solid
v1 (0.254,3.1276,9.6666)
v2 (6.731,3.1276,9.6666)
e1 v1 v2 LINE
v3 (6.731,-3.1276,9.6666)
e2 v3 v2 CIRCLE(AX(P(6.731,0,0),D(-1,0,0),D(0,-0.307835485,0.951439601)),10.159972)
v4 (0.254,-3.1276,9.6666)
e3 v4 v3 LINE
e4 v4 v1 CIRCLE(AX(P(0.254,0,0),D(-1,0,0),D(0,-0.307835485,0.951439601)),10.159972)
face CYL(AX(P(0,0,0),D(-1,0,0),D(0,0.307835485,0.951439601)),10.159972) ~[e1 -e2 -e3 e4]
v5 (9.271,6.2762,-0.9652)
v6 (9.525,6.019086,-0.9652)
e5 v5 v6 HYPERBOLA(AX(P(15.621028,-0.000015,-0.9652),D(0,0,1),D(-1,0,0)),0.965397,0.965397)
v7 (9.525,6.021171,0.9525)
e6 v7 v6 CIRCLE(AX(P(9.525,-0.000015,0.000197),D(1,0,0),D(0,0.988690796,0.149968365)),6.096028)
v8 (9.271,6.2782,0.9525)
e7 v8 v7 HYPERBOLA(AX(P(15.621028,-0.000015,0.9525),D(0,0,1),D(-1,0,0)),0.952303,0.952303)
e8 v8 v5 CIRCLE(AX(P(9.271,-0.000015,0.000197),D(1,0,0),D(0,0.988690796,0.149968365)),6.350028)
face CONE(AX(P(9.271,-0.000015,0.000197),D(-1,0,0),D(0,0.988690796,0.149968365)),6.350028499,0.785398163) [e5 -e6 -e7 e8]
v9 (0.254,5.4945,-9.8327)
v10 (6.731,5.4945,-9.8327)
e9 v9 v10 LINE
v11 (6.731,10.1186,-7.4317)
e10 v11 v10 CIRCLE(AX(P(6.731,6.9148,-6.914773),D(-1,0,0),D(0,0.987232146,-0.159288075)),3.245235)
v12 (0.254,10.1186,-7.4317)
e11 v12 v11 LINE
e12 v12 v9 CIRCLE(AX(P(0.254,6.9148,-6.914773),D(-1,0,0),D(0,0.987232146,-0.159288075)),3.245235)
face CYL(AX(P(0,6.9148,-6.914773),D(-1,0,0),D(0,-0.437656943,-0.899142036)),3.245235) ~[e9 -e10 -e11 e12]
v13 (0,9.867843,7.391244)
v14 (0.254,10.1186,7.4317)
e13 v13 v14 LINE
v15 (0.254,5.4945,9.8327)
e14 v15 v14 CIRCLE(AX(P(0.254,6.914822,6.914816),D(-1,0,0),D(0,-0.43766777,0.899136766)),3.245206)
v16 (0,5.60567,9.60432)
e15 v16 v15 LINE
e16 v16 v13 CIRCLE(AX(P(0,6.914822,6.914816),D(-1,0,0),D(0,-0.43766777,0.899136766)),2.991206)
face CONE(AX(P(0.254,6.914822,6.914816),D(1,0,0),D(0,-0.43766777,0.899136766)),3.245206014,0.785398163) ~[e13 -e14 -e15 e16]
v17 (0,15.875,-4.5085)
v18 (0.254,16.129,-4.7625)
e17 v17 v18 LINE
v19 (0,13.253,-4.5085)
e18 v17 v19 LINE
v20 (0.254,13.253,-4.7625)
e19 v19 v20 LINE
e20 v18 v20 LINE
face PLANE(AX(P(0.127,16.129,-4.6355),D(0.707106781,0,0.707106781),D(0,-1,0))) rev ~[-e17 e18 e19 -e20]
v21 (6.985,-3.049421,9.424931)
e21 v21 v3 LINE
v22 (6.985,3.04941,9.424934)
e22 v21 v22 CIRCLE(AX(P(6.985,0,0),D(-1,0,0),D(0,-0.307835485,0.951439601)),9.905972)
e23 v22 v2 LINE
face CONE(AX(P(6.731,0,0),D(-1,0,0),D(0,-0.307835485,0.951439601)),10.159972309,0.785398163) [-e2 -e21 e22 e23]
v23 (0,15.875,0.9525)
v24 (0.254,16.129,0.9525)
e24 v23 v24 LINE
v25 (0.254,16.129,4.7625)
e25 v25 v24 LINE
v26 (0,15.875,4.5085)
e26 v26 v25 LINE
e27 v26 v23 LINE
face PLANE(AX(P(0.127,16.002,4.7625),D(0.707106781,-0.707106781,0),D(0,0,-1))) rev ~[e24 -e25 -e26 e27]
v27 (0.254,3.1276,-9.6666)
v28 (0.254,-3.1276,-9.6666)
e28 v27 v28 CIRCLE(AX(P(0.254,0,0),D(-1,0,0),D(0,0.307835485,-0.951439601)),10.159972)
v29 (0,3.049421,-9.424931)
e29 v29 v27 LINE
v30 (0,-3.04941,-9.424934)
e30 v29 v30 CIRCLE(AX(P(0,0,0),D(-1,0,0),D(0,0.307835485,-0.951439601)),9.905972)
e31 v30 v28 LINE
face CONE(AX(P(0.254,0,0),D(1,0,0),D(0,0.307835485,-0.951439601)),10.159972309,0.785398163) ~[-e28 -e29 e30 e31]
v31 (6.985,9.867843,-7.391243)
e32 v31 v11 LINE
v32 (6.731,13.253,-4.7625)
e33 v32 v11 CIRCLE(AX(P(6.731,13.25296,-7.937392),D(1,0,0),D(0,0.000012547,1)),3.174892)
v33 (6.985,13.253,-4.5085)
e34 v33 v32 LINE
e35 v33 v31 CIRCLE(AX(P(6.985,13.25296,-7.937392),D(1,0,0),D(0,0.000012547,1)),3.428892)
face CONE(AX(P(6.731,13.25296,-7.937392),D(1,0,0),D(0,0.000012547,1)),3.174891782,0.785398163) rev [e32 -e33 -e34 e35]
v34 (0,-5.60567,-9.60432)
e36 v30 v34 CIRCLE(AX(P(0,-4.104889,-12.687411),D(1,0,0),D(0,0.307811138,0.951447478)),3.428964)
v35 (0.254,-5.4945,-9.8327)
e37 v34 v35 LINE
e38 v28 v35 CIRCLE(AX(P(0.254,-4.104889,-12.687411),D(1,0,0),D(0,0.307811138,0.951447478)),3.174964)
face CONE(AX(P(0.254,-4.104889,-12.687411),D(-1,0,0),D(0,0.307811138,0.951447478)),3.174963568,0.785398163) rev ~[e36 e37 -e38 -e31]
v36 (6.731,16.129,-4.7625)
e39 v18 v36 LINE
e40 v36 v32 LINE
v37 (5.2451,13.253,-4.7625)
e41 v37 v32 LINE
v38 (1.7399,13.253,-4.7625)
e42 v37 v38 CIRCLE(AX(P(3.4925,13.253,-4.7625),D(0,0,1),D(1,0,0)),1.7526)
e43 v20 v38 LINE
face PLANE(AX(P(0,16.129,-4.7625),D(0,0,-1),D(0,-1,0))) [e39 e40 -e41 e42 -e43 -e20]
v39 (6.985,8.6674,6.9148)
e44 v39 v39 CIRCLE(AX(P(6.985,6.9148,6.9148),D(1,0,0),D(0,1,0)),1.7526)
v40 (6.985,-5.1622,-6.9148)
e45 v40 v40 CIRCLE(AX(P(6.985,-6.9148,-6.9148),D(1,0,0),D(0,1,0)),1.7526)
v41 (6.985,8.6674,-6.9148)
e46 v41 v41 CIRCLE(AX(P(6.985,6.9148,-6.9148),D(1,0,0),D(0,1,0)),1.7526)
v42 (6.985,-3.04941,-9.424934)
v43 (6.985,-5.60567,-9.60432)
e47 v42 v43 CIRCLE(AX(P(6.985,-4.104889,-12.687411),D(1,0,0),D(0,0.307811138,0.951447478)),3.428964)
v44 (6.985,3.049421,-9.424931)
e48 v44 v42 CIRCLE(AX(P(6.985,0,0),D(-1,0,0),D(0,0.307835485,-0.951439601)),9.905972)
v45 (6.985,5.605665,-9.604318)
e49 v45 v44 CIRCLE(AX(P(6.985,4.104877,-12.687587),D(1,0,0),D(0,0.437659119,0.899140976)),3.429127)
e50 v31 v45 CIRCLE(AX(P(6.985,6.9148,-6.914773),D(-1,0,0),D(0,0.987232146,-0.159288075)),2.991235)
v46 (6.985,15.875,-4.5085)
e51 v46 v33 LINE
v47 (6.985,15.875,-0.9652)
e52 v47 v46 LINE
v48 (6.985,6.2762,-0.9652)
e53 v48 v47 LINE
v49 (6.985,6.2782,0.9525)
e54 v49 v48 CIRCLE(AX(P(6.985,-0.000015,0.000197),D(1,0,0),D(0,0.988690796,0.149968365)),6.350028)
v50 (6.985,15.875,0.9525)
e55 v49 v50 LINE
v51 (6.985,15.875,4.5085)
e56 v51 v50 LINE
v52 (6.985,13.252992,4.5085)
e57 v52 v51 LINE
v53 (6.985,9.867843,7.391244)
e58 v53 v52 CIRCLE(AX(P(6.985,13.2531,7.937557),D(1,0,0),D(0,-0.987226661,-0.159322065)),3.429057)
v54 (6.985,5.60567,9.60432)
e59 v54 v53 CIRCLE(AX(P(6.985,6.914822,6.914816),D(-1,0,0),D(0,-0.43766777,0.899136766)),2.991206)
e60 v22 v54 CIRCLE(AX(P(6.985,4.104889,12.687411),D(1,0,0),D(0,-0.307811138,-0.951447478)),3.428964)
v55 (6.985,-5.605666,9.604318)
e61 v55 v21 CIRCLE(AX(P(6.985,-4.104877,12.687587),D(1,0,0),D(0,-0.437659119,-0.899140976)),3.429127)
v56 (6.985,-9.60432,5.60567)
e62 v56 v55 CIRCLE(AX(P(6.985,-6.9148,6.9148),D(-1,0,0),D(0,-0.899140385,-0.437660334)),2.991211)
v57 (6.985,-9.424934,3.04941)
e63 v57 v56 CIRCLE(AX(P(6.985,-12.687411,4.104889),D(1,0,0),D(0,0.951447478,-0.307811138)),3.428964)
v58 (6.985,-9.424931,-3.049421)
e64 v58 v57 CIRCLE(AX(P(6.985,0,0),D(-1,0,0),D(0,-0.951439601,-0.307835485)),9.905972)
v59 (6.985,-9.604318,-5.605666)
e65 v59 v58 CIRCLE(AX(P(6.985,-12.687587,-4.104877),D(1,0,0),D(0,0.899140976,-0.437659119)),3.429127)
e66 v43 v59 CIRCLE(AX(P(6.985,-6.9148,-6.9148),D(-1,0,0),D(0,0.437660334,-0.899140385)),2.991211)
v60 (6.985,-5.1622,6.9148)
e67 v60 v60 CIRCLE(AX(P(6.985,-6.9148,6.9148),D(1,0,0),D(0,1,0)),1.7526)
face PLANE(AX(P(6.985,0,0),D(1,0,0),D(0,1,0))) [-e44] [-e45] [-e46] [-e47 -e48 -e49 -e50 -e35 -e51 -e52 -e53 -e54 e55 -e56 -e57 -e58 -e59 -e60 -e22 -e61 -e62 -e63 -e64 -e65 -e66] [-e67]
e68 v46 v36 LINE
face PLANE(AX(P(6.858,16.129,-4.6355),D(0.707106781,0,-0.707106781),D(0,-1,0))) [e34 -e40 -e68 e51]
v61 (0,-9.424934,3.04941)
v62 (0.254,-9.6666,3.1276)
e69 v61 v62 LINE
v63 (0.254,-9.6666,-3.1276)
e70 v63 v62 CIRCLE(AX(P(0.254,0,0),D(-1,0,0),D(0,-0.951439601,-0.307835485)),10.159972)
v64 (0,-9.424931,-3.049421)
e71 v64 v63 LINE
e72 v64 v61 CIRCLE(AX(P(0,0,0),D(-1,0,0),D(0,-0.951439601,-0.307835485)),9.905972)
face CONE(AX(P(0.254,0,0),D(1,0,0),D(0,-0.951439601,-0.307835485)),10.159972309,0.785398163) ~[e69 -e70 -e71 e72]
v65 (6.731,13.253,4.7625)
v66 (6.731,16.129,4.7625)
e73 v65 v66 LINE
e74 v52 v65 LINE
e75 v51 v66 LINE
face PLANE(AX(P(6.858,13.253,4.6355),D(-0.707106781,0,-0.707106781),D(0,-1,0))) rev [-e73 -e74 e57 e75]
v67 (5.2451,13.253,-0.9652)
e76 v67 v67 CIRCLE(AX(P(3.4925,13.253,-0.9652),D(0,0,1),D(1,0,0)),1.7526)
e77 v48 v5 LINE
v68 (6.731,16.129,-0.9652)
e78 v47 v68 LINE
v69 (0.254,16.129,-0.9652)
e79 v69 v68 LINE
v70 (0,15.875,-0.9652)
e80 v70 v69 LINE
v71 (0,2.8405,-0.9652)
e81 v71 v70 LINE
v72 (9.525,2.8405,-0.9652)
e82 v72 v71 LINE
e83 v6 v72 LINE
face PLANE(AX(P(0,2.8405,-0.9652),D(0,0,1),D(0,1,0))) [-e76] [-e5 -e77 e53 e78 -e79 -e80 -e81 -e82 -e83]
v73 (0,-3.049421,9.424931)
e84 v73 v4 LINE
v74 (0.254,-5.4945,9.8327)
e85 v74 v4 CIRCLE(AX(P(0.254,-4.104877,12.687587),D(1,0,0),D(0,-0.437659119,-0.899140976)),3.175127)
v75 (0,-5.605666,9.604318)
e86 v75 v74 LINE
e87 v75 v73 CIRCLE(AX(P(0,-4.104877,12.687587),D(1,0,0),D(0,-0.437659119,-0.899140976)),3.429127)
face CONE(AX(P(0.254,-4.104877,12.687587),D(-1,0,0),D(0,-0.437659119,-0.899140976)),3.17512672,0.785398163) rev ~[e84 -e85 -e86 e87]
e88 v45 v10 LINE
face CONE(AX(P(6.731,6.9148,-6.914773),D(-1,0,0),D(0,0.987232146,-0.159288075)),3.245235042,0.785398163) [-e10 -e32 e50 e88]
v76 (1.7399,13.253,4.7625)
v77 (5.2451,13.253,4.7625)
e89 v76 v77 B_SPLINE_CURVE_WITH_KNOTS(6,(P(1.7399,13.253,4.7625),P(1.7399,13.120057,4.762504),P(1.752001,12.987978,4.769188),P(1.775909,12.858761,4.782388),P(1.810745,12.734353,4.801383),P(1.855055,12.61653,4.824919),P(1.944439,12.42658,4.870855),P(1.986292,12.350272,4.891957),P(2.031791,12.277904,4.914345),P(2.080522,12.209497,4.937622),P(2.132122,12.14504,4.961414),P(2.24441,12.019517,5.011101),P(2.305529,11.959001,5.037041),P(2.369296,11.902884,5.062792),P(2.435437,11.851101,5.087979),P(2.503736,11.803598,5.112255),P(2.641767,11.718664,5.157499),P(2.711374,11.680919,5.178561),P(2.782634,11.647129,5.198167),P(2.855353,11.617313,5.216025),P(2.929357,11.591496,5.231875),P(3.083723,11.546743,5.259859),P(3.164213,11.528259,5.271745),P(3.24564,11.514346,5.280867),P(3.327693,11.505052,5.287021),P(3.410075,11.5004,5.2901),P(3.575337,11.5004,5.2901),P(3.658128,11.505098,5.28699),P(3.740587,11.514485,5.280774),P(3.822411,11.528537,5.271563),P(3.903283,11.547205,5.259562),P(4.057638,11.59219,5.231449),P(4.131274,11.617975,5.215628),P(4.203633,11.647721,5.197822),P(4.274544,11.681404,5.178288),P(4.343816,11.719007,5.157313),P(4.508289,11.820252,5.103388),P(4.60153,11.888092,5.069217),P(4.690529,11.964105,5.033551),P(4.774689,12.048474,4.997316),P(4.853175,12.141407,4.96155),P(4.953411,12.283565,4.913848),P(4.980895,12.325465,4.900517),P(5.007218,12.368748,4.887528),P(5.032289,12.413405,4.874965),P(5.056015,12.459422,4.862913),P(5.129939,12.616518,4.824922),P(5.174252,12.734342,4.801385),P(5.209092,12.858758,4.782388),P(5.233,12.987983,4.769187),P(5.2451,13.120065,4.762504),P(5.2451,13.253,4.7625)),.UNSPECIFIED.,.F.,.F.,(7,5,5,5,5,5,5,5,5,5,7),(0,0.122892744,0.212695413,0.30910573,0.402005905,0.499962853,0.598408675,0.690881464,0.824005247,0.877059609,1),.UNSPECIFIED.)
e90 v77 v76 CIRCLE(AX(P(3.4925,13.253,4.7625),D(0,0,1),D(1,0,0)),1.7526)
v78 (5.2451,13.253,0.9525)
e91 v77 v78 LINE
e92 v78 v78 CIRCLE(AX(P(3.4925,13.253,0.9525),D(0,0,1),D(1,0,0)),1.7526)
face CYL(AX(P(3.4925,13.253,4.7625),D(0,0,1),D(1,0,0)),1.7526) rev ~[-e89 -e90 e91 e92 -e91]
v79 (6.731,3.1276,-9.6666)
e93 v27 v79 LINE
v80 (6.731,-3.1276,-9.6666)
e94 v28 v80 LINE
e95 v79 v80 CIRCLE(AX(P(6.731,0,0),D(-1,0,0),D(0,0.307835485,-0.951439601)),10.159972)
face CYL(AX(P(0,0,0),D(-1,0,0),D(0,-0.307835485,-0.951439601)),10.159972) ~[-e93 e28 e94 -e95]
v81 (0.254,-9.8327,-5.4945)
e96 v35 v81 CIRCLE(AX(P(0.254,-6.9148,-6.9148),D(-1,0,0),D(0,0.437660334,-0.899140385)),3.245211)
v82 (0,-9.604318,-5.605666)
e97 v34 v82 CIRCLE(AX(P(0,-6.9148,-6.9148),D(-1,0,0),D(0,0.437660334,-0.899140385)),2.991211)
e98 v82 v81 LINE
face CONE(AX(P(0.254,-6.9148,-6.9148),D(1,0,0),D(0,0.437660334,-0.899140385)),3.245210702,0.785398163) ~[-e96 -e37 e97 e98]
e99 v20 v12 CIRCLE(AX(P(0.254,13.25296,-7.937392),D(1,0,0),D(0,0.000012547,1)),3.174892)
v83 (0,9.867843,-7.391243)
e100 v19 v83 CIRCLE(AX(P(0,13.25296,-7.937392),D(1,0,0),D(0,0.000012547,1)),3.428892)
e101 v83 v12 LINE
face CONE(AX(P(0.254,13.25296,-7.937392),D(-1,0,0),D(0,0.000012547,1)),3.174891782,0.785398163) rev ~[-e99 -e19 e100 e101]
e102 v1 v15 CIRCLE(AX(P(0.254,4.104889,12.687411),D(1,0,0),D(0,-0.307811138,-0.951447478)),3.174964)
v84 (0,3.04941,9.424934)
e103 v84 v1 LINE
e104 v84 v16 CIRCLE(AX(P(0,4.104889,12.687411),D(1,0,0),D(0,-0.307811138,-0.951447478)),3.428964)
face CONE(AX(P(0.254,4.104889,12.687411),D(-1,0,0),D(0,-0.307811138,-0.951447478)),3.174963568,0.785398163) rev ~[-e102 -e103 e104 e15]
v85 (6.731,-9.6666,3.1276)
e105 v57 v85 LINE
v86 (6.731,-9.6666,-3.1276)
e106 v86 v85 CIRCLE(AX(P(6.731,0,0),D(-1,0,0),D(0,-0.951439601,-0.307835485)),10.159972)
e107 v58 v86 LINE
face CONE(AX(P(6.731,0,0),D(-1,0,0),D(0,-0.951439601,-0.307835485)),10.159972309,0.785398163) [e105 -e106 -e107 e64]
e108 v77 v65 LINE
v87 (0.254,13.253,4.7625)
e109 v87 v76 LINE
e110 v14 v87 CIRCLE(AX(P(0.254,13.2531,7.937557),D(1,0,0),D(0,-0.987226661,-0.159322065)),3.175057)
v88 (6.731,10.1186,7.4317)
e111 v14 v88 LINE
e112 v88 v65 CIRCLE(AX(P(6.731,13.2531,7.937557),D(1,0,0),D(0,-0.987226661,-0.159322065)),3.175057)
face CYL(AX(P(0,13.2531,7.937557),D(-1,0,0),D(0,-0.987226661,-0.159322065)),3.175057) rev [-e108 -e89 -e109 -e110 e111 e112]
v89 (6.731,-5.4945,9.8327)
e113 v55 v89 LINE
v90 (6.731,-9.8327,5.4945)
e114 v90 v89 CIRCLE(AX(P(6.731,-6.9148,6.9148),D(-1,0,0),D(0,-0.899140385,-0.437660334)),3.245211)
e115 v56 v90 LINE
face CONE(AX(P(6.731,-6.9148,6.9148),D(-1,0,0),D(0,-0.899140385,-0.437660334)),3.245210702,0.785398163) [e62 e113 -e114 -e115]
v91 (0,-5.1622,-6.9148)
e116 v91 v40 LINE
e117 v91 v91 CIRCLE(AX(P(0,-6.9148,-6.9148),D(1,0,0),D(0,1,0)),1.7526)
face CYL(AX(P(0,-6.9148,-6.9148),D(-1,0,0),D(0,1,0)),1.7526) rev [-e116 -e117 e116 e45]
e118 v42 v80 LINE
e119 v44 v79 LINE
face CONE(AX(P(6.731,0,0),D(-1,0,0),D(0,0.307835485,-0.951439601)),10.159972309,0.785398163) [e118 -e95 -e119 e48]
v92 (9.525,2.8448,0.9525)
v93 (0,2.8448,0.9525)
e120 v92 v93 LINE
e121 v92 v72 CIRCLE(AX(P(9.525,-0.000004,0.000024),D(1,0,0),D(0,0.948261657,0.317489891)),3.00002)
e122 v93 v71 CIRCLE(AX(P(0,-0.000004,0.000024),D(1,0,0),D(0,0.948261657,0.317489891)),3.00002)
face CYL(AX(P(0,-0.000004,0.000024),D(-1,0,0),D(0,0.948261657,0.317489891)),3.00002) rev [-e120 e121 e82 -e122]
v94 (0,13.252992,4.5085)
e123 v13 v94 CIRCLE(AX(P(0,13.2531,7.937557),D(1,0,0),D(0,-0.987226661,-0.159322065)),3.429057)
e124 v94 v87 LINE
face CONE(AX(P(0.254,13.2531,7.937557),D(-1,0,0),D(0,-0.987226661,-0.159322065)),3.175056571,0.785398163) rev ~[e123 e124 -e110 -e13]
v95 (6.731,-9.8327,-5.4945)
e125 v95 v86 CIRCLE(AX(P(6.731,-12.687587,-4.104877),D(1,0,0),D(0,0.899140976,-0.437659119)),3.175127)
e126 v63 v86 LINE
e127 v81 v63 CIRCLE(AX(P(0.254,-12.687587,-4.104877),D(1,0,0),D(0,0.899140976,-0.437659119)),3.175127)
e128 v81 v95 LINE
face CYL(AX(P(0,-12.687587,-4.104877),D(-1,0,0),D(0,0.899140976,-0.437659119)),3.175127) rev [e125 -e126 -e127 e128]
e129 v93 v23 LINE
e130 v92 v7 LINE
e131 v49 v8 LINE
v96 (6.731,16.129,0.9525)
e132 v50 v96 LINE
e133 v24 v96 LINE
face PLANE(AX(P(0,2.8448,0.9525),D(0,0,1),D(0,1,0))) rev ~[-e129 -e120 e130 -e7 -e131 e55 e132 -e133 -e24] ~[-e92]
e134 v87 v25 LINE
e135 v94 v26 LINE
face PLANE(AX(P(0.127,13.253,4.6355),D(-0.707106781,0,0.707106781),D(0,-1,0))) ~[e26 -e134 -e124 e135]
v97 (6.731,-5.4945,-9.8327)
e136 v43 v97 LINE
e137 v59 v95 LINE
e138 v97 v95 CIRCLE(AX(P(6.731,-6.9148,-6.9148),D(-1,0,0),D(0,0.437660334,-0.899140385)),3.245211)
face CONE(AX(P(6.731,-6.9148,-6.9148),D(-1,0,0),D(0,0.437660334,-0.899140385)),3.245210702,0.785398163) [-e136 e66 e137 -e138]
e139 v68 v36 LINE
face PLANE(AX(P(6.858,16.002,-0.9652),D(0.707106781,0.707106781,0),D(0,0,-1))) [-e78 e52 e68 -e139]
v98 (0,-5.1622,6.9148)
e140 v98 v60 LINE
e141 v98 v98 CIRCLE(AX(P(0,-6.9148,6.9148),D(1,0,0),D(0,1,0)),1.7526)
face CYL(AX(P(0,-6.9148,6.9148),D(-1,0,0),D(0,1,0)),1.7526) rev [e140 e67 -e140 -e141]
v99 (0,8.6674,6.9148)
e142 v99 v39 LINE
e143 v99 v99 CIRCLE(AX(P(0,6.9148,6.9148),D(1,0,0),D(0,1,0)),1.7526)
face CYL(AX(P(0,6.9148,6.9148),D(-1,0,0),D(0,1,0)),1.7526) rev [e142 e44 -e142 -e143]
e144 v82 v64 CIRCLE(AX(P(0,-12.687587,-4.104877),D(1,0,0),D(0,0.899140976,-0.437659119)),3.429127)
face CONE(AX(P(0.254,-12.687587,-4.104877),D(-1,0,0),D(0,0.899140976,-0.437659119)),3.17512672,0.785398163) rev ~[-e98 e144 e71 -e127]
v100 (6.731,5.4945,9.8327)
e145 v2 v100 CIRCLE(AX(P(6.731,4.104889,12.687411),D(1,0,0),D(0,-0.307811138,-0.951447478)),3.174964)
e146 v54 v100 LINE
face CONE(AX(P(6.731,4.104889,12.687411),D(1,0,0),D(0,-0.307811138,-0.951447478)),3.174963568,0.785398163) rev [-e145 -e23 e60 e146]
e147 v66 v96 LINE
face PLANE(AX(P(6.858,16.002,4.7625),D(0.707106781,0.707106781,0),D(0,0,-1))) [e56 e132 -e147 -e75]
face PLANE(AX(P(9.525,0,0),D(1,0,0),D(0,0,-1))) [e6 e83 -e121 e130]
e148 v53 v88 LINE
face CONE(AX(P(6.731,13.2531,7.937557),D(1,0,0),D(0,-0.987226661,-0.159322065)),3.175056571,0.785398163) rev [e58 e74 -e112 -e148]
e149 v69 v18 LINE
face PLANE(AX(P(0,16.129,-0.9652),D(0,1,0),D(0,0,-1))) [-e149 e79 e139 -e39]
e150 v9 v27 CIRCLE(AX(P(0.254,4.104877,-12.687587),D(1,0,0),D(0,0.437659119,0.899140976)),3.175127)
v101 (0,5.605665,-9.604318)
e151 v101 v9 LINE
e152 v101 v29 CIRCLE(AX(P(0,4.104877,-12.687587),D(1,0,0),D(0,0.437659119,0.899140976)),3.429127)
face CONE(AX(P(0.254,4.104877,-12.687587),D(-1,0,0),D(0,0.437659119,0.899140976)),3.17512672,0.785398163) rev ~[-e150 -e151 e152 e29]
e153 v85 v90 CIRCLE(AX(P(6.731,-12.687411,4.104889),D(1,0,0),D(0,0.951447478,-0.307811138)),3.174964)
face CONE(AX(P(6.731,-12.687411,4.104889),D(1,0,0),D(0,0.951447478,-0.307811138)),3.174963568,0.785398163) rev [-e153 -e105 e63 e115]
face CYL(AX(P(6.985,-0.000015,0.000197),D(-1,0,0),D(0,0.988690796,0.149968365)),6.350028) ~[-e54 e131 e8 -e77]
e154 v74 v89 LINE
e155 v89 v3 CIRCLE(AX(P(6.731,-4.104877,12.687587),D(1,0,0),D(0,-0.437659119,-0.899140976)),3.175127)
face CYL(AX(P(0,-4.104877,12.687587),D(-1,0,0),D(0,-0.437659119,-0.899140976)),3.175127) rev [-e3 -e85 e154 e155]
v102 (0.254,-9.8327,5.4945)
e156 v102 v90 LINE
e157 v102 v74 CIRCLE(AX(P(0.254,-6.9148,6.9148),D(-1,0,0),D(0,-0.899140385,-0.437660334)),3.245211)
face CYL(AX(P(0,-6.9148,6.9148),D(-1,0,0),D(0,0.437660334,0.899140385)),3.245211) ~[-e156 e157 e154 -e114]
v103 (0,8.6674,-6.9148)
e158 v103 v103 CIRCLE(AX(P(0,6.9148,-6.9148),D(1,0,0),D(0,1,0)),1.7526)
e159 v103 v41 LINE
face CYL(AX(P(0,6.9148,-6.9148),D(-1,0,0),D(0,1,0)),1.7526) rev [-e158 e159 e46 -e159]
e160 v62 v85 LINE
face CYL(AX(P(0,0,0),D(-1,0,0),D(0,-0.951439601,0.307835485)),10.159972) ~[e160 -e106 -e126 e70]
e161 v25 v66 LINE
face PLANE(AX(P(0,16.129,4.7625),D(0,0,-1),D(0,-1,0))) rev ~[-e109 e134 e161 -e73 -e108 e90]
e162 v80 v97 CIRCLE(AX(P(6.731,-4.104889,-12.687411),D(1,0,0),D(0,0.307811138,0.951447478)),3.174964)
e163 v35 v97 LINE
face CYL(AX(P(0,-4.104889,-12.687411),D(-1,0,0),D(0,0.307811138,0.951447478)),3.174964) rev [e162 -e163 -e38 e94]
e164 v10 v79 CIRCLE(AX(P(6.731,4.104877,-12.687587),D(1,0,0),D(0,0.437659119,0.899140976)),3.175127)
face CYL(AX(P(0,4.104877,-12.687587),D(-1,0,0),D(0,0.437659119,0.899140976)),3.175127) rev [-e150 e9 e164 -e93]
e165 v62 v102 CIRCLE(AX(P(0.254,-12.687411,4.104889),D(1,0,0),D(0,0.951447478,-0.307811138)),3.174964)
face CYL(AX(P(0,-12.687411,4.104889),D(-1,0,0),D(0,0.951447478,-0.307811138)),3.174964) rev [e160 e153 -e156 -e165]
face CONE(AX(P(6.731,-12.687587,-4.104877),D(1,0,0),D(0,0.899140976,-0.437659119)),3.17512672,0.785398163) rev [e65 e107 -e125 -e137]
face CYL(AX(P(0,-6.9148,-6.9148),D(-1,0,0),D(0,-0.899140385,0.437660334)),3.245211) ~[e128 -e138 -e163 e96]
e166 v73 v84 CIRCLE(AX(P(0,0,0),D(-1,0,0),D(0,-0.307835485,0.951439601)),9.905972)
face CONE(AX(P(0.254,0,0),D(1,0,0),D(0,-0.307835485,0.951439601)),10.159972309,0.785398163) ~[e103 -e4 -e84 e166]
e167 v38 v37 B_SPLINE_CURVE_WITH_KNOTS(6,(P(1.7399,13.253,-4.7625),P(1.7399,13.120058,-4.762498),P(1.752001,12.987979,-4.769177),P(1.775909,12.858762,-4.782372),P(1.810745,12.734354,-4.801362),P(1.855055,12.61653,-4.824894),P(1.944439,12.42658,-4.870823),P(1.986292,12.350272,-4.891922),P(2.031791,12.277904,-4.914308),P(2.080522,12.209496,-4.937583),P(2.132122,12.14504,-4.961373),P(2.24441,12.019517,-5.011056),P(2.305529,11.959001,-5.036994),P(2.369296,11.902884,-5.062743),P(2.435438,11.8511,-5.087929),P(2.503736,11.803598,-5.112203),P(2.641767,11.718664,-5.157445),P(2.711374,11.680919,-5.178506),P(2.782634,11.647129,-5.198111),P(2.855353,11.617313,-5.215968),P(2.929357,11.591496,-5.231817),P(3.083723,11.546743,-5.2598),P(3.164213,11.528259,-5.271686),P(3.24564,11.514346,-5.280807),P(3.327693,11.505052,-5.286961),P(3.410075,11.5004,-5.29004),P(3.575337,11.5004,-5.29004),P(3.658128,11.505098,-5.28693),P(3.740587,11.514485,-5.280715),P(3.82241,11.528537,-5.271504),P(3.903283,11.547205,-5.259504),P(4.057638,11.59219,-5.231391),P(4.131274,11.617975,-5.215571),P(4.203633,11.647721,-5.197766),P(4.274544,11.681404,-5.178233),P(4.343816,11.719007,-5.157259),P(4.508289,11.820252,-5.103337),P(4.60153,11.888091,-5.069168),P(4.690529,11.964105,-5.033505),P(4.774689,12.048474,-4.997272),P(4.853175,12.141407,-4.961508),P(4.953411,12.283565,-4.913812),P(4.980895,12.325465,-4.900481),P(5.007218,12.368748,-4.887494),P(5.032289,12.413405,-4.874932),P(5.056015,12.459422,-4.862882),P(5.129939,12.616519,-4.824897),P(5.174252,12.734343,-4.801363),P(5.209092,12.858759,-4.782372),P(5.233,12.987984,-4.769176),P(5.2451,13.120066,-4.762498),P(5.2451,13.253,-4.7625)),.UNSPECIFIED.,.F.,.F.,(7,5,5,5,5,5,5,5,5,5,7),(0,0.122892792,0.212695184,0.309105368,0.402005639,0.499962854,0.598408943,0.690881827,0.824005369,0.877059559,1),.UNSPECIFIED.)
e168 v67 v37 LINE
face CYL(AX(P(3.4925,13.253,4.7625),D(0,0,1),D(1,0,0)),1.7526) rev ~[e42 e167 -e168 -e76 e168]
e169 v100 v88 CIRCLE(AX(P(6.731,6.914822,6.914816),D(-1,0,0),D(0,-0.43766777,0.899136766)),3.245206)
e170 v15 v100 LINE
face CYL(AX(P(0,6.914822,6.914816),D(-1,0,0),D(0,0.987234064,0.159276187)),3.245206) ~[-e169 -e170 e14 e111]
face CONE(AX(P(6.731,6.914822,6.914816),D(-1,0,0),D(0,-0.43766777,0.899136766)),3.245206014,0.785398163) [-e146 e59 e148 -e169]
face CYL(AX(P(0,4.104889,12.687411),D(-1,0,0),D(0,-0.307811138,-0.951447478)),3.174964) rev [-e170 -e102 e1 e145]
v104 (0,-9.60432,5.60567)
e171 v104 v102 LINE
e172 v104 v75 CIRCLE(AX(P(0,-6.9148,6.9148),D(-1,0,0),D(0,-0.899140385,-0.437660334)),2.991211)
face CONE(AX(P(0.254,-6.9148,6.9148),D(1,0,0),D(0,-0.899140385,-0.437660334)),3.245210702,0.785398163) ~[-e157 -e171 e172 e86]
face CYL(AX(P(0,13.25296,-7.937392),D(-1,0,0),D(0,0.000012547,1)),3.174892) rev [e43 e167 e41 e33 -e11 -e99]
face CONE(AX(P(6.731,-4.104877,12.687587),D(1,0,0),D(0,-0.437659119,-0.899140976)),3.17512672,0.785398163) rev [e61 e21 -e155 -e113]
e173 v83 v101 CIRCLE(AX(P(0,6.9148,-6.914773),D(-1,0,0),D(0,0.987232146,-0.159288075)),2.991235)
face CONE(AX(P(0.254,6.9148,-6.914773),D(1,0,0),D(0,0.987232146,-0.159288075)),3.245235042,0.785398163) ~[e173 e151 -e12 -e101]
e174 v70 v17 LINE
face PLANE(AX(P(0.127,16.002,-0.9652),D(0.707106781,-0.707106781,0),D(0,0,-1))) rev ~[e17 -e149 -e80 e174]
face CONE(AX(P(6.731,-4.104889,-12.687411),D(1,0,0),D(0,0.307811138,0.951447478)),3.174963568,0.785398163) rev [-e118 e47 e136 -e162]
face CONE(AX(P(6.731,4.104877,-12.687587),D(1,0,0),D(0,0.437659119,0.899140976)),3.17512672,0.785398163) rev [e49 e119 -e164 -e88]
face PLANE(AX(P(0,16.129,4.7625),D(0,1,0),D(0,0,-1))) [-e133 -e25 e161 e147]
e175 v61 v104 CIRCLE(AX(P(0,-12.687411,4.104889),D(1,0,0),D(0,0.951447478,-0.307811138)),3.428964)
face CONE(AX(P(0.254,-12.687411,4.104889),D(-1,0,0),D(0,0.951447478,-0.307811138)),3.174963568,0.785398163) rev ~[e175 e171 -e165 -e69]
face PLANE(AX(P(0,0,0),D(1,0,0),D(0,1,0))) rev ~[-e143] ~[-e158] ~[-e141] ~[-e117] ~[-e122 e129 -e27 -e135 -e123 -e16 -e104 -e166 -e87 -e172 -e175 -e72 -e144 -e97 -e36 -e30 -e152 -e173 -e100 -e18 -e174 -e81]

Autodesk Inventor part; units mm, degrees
ref_plane "YZ Plane" through (0, 0, 0) normal (1, 0, 0) x (0, 1, 0)
ref_plane "XZ Plane" through (0, 0, 0) normal (0, 1, 0) x (-1, 0, 0)
ref_plane "XY Plane" through (0, 0, 0) normal (0, 0, 1) x (1, 0, 0)
sketch "Sketch1" plane through (0, 0, 0) normal (1, 0, 0) x (0, 1, 0)
  line L0 (-6.9148, -6.9148) -> (6.9148, 6.9148) construction
  circle A0 centre (0, 0) radius 9.779 construction
  line L1 (6.9148, -6.9148) -> (-7.1842, 7.1842) construction
  line L2 (0, 0) -> (9.779, 0) construction
  circle A1 centre (-6.9148, 6.9148) radius 1.7526
  circle A2 centre (6.9148, 6.9148) radius 1.7526
  circle A3 centre (-6.9148, -6.9148) radius 1.7526
  circle A4 centre (6.9148, -6.9148) radius 1.7526
  line L3 (-6.9148, -10.16) -> (-6.9148, 10.16) construction
  arc A5 (-5.4945, 9.8327) -> (-9.8327, 5.4945) centre (-6.9148, 6.9148) ccw
  arc A6 (-9.8327, -5.4945) -> (-5.4945, -9.8327) centre (-6.9148, -6.9148) ccw
  arc A7 (5.4945, -9.8327) -> (10.1186, -7.4317) centre (6.9148, -6.9148) ccw
  arc A8 (10.1186, 7.4317) -> (5.4945, 9.8327) centre (6.9148, 6.9148) ccw
  arc A9 (2.8448, 0.9525) -> (2.8405, -0.9652) centre (0, 0) ccw
  arc A10 (3.1276, 9.6666) -> (-3.1276, 9.6666) centre (0, 0) ccw
  line L4 (-10.16, 0) -> (16.129, 0) construction
  line L5 (16.129, 0.9525) -> (16.129, 4.7625) construction
  line L6 (16.129, -0.9652) -> (16.129, -4.7625) construction
  line L7 (16.129, 4.7625) -> (13.253, 4.7625)
  line L8 (16.129, -4.7625) -> (13.253, -4.7625)
  arc A11 (-9.6666, 3.1276) -> (-9.6666, -3.1276) centre (0, 0) ccw
  arc A12 (-3.1276, -9.6666) -> (3.1276, -9.6666) centre (0, 0) ccw
  line L9 (-10.16, -0.9652) -> (-10.114, -0.9652)
  line L10 (2.8405, -0.9652) -> (16.129, -0.9652)
  line L11 (-10.16, 0.9525) -> (-10.1153, 0.9525)
  line L12 (2.8448, 0.9525) -> (16.129, 0.9525)
  line L13 (16.129, 4.7625) -> (16.129, 0.9525)
  line L14 (16.129, -0.9652) -> (16.129, -4.7625)
  arc A13 (10.1186, 7.4317) -> (13.253, 4.7625) centre (13.253, 7.9375) ccw
  arc A14 (13.253, -4.7625) -> (10.1186, -7.4317) centre (13.253, -7.9375) ccw
  arc A15 (3.1276, 9.6666) -> (5.4945, 9.8327) centre (4.1049, 12.6875) ccw
  arc A16 (-5.4945, 9.8327) -> (-3.1276, 9.6666) centre (-4.1049, 12.6875) ccw
  arc A17 (-9.6666, 3.1276) -> (-9.8327, 5.4945) centre (-12.6875, 4.1049) ccw
  arc A18 (-9.8327, -5.4945) -> (-9.6666, -3.1276) centre (-12.6875, -4.1049) ccw
  arc A19 (-3.1276, -9.6666) -> (-5.4945, -9.8327) centre (-4.1049, -12.6875) ccw
  arc A20 (5.4945, -9.8327) -> (3.1276, -9.6666) centre (4.1049, -12.6875) ccw
  point P0 (9.3436, 4.7625)
  point P1 (9.3436, -4.7625)
  dimension "d4" = 19.558
  dimension "d6" = 3.5052
  dimension "d7" = 3.5052
  dimension "d8" = 3.5052
  dimension "d9" = 3.5052
  dimension "d11" = 6
  dimension "d12" = 26.289
  dimension "d18" = 3.175
  dimension "d19" = 3.175
extrude "Extrusion1" add sketch "Sketch1" along normal blind 6.985
sketch "Sketch2" plane through (6.985, 0, 0) normal (1, 0, 0) x (0, 0, -1)
  line L0 (0.9652, 16.129) -> (0.9652, 2.8405) projected
  arc A0 (-0.9525, 2.8448) -> (0.9652, 2.8405) centre (0, 0) ccw projected
  line L1 (-0.9525, 2.8448) -> (-0.9525, 16.129) projected
  arc A1 (-0.9525, 6.2782) -> (0.9652, 6.2762) centre (0, 0) ccw
  arc A2 (-0.9525, 2.8448) -> (0.9652, 2.8405) centre (0, 0) ccw
  line L2 (-0.9525, 2.8448) -> (-0.9525, 6.2782)
  line L3 (0.9652, 2.8405) -> (0.9652, 6.2762)
  dimension "d22" = 12.7
extrude "Extrusion2" add sketch "Sketch2" along normal blind 2.54
sketch "Sketch3" plane through (0, 13.253, 4.7625) normal (0, 0, 1) x (1, 0, 0)
  line L0 (0, 0) -> (6.985, 0) projected
  circle A0 centre (3.4925, 0) radius 1.7526
  point P0 (0, -13.253)
  dimension "d25" = 3.5052
extrude "Extrusion3" cut sketch "Sketch3" along normal mid plane 29.5275
thread "Thread1" size "6-32 UNC" class "2B" standard "ANSI Unified Screw Threads" full length
thread "Thread2" size "6-32 UNC" class "2B" standard "ANSI Unified Screw Threads" full length
chamfer "Chamfer1" distance 0.254 angle 45 39 edges at (6.985, 11.1945, 5.5202) (6.985, 8.4102, 9.7949) (6.985, 4.3271, 9.5202) (6.985, 0, 10.16) (6.985, -4.3271, 9.5202) (6.985, -9.2095, 9.2095) (6.985, -9.5202, 4.3271) (6.985, -10.16, 0) (6.985, -9.5202, -4.3271) (6.985, -9.2095, -9.2095) (6.985, -4.3271, -9.5202) (6.985, 0, -10.16) (6.985, 4.3271, -9.5202) (6.985, 8.4102, -9.7949) (6.985, 11.1945, -5.5202) (6.985, 14.691, -4.7625) (6.985, 14.691, 4.7625) (0, 11.1945, 5.5202) (0, 8.4102, 9.7949) (0, 4.3271, 9.5202) (0, 0, 10.16) (0, -4.3271, 9.5202) (0, -9.2095, 9.2095) (0, -9.5202, 4.3271) (0, -10.16, 0) (0, -9.5202, -4.3271) (0, -9.2095, -9.2095) (0, -4.3271, -9.5202) (0, 0, -10.16) (0, 4.3271, -9.5202) (0, 8.4102, -9.7949) (0, 11.1945, -5.5202) (0, 14.691, -4.7625) (0, 14.691, 4.7625) (9.525, -6.35, 0.0064) (6.985, 16.129, -2.8638) (6.985, 16.129, 2.8575) (0, 16.129, -2.8638) (0, 16.129, 2.8575)
properties part number "Clamping Hub"
